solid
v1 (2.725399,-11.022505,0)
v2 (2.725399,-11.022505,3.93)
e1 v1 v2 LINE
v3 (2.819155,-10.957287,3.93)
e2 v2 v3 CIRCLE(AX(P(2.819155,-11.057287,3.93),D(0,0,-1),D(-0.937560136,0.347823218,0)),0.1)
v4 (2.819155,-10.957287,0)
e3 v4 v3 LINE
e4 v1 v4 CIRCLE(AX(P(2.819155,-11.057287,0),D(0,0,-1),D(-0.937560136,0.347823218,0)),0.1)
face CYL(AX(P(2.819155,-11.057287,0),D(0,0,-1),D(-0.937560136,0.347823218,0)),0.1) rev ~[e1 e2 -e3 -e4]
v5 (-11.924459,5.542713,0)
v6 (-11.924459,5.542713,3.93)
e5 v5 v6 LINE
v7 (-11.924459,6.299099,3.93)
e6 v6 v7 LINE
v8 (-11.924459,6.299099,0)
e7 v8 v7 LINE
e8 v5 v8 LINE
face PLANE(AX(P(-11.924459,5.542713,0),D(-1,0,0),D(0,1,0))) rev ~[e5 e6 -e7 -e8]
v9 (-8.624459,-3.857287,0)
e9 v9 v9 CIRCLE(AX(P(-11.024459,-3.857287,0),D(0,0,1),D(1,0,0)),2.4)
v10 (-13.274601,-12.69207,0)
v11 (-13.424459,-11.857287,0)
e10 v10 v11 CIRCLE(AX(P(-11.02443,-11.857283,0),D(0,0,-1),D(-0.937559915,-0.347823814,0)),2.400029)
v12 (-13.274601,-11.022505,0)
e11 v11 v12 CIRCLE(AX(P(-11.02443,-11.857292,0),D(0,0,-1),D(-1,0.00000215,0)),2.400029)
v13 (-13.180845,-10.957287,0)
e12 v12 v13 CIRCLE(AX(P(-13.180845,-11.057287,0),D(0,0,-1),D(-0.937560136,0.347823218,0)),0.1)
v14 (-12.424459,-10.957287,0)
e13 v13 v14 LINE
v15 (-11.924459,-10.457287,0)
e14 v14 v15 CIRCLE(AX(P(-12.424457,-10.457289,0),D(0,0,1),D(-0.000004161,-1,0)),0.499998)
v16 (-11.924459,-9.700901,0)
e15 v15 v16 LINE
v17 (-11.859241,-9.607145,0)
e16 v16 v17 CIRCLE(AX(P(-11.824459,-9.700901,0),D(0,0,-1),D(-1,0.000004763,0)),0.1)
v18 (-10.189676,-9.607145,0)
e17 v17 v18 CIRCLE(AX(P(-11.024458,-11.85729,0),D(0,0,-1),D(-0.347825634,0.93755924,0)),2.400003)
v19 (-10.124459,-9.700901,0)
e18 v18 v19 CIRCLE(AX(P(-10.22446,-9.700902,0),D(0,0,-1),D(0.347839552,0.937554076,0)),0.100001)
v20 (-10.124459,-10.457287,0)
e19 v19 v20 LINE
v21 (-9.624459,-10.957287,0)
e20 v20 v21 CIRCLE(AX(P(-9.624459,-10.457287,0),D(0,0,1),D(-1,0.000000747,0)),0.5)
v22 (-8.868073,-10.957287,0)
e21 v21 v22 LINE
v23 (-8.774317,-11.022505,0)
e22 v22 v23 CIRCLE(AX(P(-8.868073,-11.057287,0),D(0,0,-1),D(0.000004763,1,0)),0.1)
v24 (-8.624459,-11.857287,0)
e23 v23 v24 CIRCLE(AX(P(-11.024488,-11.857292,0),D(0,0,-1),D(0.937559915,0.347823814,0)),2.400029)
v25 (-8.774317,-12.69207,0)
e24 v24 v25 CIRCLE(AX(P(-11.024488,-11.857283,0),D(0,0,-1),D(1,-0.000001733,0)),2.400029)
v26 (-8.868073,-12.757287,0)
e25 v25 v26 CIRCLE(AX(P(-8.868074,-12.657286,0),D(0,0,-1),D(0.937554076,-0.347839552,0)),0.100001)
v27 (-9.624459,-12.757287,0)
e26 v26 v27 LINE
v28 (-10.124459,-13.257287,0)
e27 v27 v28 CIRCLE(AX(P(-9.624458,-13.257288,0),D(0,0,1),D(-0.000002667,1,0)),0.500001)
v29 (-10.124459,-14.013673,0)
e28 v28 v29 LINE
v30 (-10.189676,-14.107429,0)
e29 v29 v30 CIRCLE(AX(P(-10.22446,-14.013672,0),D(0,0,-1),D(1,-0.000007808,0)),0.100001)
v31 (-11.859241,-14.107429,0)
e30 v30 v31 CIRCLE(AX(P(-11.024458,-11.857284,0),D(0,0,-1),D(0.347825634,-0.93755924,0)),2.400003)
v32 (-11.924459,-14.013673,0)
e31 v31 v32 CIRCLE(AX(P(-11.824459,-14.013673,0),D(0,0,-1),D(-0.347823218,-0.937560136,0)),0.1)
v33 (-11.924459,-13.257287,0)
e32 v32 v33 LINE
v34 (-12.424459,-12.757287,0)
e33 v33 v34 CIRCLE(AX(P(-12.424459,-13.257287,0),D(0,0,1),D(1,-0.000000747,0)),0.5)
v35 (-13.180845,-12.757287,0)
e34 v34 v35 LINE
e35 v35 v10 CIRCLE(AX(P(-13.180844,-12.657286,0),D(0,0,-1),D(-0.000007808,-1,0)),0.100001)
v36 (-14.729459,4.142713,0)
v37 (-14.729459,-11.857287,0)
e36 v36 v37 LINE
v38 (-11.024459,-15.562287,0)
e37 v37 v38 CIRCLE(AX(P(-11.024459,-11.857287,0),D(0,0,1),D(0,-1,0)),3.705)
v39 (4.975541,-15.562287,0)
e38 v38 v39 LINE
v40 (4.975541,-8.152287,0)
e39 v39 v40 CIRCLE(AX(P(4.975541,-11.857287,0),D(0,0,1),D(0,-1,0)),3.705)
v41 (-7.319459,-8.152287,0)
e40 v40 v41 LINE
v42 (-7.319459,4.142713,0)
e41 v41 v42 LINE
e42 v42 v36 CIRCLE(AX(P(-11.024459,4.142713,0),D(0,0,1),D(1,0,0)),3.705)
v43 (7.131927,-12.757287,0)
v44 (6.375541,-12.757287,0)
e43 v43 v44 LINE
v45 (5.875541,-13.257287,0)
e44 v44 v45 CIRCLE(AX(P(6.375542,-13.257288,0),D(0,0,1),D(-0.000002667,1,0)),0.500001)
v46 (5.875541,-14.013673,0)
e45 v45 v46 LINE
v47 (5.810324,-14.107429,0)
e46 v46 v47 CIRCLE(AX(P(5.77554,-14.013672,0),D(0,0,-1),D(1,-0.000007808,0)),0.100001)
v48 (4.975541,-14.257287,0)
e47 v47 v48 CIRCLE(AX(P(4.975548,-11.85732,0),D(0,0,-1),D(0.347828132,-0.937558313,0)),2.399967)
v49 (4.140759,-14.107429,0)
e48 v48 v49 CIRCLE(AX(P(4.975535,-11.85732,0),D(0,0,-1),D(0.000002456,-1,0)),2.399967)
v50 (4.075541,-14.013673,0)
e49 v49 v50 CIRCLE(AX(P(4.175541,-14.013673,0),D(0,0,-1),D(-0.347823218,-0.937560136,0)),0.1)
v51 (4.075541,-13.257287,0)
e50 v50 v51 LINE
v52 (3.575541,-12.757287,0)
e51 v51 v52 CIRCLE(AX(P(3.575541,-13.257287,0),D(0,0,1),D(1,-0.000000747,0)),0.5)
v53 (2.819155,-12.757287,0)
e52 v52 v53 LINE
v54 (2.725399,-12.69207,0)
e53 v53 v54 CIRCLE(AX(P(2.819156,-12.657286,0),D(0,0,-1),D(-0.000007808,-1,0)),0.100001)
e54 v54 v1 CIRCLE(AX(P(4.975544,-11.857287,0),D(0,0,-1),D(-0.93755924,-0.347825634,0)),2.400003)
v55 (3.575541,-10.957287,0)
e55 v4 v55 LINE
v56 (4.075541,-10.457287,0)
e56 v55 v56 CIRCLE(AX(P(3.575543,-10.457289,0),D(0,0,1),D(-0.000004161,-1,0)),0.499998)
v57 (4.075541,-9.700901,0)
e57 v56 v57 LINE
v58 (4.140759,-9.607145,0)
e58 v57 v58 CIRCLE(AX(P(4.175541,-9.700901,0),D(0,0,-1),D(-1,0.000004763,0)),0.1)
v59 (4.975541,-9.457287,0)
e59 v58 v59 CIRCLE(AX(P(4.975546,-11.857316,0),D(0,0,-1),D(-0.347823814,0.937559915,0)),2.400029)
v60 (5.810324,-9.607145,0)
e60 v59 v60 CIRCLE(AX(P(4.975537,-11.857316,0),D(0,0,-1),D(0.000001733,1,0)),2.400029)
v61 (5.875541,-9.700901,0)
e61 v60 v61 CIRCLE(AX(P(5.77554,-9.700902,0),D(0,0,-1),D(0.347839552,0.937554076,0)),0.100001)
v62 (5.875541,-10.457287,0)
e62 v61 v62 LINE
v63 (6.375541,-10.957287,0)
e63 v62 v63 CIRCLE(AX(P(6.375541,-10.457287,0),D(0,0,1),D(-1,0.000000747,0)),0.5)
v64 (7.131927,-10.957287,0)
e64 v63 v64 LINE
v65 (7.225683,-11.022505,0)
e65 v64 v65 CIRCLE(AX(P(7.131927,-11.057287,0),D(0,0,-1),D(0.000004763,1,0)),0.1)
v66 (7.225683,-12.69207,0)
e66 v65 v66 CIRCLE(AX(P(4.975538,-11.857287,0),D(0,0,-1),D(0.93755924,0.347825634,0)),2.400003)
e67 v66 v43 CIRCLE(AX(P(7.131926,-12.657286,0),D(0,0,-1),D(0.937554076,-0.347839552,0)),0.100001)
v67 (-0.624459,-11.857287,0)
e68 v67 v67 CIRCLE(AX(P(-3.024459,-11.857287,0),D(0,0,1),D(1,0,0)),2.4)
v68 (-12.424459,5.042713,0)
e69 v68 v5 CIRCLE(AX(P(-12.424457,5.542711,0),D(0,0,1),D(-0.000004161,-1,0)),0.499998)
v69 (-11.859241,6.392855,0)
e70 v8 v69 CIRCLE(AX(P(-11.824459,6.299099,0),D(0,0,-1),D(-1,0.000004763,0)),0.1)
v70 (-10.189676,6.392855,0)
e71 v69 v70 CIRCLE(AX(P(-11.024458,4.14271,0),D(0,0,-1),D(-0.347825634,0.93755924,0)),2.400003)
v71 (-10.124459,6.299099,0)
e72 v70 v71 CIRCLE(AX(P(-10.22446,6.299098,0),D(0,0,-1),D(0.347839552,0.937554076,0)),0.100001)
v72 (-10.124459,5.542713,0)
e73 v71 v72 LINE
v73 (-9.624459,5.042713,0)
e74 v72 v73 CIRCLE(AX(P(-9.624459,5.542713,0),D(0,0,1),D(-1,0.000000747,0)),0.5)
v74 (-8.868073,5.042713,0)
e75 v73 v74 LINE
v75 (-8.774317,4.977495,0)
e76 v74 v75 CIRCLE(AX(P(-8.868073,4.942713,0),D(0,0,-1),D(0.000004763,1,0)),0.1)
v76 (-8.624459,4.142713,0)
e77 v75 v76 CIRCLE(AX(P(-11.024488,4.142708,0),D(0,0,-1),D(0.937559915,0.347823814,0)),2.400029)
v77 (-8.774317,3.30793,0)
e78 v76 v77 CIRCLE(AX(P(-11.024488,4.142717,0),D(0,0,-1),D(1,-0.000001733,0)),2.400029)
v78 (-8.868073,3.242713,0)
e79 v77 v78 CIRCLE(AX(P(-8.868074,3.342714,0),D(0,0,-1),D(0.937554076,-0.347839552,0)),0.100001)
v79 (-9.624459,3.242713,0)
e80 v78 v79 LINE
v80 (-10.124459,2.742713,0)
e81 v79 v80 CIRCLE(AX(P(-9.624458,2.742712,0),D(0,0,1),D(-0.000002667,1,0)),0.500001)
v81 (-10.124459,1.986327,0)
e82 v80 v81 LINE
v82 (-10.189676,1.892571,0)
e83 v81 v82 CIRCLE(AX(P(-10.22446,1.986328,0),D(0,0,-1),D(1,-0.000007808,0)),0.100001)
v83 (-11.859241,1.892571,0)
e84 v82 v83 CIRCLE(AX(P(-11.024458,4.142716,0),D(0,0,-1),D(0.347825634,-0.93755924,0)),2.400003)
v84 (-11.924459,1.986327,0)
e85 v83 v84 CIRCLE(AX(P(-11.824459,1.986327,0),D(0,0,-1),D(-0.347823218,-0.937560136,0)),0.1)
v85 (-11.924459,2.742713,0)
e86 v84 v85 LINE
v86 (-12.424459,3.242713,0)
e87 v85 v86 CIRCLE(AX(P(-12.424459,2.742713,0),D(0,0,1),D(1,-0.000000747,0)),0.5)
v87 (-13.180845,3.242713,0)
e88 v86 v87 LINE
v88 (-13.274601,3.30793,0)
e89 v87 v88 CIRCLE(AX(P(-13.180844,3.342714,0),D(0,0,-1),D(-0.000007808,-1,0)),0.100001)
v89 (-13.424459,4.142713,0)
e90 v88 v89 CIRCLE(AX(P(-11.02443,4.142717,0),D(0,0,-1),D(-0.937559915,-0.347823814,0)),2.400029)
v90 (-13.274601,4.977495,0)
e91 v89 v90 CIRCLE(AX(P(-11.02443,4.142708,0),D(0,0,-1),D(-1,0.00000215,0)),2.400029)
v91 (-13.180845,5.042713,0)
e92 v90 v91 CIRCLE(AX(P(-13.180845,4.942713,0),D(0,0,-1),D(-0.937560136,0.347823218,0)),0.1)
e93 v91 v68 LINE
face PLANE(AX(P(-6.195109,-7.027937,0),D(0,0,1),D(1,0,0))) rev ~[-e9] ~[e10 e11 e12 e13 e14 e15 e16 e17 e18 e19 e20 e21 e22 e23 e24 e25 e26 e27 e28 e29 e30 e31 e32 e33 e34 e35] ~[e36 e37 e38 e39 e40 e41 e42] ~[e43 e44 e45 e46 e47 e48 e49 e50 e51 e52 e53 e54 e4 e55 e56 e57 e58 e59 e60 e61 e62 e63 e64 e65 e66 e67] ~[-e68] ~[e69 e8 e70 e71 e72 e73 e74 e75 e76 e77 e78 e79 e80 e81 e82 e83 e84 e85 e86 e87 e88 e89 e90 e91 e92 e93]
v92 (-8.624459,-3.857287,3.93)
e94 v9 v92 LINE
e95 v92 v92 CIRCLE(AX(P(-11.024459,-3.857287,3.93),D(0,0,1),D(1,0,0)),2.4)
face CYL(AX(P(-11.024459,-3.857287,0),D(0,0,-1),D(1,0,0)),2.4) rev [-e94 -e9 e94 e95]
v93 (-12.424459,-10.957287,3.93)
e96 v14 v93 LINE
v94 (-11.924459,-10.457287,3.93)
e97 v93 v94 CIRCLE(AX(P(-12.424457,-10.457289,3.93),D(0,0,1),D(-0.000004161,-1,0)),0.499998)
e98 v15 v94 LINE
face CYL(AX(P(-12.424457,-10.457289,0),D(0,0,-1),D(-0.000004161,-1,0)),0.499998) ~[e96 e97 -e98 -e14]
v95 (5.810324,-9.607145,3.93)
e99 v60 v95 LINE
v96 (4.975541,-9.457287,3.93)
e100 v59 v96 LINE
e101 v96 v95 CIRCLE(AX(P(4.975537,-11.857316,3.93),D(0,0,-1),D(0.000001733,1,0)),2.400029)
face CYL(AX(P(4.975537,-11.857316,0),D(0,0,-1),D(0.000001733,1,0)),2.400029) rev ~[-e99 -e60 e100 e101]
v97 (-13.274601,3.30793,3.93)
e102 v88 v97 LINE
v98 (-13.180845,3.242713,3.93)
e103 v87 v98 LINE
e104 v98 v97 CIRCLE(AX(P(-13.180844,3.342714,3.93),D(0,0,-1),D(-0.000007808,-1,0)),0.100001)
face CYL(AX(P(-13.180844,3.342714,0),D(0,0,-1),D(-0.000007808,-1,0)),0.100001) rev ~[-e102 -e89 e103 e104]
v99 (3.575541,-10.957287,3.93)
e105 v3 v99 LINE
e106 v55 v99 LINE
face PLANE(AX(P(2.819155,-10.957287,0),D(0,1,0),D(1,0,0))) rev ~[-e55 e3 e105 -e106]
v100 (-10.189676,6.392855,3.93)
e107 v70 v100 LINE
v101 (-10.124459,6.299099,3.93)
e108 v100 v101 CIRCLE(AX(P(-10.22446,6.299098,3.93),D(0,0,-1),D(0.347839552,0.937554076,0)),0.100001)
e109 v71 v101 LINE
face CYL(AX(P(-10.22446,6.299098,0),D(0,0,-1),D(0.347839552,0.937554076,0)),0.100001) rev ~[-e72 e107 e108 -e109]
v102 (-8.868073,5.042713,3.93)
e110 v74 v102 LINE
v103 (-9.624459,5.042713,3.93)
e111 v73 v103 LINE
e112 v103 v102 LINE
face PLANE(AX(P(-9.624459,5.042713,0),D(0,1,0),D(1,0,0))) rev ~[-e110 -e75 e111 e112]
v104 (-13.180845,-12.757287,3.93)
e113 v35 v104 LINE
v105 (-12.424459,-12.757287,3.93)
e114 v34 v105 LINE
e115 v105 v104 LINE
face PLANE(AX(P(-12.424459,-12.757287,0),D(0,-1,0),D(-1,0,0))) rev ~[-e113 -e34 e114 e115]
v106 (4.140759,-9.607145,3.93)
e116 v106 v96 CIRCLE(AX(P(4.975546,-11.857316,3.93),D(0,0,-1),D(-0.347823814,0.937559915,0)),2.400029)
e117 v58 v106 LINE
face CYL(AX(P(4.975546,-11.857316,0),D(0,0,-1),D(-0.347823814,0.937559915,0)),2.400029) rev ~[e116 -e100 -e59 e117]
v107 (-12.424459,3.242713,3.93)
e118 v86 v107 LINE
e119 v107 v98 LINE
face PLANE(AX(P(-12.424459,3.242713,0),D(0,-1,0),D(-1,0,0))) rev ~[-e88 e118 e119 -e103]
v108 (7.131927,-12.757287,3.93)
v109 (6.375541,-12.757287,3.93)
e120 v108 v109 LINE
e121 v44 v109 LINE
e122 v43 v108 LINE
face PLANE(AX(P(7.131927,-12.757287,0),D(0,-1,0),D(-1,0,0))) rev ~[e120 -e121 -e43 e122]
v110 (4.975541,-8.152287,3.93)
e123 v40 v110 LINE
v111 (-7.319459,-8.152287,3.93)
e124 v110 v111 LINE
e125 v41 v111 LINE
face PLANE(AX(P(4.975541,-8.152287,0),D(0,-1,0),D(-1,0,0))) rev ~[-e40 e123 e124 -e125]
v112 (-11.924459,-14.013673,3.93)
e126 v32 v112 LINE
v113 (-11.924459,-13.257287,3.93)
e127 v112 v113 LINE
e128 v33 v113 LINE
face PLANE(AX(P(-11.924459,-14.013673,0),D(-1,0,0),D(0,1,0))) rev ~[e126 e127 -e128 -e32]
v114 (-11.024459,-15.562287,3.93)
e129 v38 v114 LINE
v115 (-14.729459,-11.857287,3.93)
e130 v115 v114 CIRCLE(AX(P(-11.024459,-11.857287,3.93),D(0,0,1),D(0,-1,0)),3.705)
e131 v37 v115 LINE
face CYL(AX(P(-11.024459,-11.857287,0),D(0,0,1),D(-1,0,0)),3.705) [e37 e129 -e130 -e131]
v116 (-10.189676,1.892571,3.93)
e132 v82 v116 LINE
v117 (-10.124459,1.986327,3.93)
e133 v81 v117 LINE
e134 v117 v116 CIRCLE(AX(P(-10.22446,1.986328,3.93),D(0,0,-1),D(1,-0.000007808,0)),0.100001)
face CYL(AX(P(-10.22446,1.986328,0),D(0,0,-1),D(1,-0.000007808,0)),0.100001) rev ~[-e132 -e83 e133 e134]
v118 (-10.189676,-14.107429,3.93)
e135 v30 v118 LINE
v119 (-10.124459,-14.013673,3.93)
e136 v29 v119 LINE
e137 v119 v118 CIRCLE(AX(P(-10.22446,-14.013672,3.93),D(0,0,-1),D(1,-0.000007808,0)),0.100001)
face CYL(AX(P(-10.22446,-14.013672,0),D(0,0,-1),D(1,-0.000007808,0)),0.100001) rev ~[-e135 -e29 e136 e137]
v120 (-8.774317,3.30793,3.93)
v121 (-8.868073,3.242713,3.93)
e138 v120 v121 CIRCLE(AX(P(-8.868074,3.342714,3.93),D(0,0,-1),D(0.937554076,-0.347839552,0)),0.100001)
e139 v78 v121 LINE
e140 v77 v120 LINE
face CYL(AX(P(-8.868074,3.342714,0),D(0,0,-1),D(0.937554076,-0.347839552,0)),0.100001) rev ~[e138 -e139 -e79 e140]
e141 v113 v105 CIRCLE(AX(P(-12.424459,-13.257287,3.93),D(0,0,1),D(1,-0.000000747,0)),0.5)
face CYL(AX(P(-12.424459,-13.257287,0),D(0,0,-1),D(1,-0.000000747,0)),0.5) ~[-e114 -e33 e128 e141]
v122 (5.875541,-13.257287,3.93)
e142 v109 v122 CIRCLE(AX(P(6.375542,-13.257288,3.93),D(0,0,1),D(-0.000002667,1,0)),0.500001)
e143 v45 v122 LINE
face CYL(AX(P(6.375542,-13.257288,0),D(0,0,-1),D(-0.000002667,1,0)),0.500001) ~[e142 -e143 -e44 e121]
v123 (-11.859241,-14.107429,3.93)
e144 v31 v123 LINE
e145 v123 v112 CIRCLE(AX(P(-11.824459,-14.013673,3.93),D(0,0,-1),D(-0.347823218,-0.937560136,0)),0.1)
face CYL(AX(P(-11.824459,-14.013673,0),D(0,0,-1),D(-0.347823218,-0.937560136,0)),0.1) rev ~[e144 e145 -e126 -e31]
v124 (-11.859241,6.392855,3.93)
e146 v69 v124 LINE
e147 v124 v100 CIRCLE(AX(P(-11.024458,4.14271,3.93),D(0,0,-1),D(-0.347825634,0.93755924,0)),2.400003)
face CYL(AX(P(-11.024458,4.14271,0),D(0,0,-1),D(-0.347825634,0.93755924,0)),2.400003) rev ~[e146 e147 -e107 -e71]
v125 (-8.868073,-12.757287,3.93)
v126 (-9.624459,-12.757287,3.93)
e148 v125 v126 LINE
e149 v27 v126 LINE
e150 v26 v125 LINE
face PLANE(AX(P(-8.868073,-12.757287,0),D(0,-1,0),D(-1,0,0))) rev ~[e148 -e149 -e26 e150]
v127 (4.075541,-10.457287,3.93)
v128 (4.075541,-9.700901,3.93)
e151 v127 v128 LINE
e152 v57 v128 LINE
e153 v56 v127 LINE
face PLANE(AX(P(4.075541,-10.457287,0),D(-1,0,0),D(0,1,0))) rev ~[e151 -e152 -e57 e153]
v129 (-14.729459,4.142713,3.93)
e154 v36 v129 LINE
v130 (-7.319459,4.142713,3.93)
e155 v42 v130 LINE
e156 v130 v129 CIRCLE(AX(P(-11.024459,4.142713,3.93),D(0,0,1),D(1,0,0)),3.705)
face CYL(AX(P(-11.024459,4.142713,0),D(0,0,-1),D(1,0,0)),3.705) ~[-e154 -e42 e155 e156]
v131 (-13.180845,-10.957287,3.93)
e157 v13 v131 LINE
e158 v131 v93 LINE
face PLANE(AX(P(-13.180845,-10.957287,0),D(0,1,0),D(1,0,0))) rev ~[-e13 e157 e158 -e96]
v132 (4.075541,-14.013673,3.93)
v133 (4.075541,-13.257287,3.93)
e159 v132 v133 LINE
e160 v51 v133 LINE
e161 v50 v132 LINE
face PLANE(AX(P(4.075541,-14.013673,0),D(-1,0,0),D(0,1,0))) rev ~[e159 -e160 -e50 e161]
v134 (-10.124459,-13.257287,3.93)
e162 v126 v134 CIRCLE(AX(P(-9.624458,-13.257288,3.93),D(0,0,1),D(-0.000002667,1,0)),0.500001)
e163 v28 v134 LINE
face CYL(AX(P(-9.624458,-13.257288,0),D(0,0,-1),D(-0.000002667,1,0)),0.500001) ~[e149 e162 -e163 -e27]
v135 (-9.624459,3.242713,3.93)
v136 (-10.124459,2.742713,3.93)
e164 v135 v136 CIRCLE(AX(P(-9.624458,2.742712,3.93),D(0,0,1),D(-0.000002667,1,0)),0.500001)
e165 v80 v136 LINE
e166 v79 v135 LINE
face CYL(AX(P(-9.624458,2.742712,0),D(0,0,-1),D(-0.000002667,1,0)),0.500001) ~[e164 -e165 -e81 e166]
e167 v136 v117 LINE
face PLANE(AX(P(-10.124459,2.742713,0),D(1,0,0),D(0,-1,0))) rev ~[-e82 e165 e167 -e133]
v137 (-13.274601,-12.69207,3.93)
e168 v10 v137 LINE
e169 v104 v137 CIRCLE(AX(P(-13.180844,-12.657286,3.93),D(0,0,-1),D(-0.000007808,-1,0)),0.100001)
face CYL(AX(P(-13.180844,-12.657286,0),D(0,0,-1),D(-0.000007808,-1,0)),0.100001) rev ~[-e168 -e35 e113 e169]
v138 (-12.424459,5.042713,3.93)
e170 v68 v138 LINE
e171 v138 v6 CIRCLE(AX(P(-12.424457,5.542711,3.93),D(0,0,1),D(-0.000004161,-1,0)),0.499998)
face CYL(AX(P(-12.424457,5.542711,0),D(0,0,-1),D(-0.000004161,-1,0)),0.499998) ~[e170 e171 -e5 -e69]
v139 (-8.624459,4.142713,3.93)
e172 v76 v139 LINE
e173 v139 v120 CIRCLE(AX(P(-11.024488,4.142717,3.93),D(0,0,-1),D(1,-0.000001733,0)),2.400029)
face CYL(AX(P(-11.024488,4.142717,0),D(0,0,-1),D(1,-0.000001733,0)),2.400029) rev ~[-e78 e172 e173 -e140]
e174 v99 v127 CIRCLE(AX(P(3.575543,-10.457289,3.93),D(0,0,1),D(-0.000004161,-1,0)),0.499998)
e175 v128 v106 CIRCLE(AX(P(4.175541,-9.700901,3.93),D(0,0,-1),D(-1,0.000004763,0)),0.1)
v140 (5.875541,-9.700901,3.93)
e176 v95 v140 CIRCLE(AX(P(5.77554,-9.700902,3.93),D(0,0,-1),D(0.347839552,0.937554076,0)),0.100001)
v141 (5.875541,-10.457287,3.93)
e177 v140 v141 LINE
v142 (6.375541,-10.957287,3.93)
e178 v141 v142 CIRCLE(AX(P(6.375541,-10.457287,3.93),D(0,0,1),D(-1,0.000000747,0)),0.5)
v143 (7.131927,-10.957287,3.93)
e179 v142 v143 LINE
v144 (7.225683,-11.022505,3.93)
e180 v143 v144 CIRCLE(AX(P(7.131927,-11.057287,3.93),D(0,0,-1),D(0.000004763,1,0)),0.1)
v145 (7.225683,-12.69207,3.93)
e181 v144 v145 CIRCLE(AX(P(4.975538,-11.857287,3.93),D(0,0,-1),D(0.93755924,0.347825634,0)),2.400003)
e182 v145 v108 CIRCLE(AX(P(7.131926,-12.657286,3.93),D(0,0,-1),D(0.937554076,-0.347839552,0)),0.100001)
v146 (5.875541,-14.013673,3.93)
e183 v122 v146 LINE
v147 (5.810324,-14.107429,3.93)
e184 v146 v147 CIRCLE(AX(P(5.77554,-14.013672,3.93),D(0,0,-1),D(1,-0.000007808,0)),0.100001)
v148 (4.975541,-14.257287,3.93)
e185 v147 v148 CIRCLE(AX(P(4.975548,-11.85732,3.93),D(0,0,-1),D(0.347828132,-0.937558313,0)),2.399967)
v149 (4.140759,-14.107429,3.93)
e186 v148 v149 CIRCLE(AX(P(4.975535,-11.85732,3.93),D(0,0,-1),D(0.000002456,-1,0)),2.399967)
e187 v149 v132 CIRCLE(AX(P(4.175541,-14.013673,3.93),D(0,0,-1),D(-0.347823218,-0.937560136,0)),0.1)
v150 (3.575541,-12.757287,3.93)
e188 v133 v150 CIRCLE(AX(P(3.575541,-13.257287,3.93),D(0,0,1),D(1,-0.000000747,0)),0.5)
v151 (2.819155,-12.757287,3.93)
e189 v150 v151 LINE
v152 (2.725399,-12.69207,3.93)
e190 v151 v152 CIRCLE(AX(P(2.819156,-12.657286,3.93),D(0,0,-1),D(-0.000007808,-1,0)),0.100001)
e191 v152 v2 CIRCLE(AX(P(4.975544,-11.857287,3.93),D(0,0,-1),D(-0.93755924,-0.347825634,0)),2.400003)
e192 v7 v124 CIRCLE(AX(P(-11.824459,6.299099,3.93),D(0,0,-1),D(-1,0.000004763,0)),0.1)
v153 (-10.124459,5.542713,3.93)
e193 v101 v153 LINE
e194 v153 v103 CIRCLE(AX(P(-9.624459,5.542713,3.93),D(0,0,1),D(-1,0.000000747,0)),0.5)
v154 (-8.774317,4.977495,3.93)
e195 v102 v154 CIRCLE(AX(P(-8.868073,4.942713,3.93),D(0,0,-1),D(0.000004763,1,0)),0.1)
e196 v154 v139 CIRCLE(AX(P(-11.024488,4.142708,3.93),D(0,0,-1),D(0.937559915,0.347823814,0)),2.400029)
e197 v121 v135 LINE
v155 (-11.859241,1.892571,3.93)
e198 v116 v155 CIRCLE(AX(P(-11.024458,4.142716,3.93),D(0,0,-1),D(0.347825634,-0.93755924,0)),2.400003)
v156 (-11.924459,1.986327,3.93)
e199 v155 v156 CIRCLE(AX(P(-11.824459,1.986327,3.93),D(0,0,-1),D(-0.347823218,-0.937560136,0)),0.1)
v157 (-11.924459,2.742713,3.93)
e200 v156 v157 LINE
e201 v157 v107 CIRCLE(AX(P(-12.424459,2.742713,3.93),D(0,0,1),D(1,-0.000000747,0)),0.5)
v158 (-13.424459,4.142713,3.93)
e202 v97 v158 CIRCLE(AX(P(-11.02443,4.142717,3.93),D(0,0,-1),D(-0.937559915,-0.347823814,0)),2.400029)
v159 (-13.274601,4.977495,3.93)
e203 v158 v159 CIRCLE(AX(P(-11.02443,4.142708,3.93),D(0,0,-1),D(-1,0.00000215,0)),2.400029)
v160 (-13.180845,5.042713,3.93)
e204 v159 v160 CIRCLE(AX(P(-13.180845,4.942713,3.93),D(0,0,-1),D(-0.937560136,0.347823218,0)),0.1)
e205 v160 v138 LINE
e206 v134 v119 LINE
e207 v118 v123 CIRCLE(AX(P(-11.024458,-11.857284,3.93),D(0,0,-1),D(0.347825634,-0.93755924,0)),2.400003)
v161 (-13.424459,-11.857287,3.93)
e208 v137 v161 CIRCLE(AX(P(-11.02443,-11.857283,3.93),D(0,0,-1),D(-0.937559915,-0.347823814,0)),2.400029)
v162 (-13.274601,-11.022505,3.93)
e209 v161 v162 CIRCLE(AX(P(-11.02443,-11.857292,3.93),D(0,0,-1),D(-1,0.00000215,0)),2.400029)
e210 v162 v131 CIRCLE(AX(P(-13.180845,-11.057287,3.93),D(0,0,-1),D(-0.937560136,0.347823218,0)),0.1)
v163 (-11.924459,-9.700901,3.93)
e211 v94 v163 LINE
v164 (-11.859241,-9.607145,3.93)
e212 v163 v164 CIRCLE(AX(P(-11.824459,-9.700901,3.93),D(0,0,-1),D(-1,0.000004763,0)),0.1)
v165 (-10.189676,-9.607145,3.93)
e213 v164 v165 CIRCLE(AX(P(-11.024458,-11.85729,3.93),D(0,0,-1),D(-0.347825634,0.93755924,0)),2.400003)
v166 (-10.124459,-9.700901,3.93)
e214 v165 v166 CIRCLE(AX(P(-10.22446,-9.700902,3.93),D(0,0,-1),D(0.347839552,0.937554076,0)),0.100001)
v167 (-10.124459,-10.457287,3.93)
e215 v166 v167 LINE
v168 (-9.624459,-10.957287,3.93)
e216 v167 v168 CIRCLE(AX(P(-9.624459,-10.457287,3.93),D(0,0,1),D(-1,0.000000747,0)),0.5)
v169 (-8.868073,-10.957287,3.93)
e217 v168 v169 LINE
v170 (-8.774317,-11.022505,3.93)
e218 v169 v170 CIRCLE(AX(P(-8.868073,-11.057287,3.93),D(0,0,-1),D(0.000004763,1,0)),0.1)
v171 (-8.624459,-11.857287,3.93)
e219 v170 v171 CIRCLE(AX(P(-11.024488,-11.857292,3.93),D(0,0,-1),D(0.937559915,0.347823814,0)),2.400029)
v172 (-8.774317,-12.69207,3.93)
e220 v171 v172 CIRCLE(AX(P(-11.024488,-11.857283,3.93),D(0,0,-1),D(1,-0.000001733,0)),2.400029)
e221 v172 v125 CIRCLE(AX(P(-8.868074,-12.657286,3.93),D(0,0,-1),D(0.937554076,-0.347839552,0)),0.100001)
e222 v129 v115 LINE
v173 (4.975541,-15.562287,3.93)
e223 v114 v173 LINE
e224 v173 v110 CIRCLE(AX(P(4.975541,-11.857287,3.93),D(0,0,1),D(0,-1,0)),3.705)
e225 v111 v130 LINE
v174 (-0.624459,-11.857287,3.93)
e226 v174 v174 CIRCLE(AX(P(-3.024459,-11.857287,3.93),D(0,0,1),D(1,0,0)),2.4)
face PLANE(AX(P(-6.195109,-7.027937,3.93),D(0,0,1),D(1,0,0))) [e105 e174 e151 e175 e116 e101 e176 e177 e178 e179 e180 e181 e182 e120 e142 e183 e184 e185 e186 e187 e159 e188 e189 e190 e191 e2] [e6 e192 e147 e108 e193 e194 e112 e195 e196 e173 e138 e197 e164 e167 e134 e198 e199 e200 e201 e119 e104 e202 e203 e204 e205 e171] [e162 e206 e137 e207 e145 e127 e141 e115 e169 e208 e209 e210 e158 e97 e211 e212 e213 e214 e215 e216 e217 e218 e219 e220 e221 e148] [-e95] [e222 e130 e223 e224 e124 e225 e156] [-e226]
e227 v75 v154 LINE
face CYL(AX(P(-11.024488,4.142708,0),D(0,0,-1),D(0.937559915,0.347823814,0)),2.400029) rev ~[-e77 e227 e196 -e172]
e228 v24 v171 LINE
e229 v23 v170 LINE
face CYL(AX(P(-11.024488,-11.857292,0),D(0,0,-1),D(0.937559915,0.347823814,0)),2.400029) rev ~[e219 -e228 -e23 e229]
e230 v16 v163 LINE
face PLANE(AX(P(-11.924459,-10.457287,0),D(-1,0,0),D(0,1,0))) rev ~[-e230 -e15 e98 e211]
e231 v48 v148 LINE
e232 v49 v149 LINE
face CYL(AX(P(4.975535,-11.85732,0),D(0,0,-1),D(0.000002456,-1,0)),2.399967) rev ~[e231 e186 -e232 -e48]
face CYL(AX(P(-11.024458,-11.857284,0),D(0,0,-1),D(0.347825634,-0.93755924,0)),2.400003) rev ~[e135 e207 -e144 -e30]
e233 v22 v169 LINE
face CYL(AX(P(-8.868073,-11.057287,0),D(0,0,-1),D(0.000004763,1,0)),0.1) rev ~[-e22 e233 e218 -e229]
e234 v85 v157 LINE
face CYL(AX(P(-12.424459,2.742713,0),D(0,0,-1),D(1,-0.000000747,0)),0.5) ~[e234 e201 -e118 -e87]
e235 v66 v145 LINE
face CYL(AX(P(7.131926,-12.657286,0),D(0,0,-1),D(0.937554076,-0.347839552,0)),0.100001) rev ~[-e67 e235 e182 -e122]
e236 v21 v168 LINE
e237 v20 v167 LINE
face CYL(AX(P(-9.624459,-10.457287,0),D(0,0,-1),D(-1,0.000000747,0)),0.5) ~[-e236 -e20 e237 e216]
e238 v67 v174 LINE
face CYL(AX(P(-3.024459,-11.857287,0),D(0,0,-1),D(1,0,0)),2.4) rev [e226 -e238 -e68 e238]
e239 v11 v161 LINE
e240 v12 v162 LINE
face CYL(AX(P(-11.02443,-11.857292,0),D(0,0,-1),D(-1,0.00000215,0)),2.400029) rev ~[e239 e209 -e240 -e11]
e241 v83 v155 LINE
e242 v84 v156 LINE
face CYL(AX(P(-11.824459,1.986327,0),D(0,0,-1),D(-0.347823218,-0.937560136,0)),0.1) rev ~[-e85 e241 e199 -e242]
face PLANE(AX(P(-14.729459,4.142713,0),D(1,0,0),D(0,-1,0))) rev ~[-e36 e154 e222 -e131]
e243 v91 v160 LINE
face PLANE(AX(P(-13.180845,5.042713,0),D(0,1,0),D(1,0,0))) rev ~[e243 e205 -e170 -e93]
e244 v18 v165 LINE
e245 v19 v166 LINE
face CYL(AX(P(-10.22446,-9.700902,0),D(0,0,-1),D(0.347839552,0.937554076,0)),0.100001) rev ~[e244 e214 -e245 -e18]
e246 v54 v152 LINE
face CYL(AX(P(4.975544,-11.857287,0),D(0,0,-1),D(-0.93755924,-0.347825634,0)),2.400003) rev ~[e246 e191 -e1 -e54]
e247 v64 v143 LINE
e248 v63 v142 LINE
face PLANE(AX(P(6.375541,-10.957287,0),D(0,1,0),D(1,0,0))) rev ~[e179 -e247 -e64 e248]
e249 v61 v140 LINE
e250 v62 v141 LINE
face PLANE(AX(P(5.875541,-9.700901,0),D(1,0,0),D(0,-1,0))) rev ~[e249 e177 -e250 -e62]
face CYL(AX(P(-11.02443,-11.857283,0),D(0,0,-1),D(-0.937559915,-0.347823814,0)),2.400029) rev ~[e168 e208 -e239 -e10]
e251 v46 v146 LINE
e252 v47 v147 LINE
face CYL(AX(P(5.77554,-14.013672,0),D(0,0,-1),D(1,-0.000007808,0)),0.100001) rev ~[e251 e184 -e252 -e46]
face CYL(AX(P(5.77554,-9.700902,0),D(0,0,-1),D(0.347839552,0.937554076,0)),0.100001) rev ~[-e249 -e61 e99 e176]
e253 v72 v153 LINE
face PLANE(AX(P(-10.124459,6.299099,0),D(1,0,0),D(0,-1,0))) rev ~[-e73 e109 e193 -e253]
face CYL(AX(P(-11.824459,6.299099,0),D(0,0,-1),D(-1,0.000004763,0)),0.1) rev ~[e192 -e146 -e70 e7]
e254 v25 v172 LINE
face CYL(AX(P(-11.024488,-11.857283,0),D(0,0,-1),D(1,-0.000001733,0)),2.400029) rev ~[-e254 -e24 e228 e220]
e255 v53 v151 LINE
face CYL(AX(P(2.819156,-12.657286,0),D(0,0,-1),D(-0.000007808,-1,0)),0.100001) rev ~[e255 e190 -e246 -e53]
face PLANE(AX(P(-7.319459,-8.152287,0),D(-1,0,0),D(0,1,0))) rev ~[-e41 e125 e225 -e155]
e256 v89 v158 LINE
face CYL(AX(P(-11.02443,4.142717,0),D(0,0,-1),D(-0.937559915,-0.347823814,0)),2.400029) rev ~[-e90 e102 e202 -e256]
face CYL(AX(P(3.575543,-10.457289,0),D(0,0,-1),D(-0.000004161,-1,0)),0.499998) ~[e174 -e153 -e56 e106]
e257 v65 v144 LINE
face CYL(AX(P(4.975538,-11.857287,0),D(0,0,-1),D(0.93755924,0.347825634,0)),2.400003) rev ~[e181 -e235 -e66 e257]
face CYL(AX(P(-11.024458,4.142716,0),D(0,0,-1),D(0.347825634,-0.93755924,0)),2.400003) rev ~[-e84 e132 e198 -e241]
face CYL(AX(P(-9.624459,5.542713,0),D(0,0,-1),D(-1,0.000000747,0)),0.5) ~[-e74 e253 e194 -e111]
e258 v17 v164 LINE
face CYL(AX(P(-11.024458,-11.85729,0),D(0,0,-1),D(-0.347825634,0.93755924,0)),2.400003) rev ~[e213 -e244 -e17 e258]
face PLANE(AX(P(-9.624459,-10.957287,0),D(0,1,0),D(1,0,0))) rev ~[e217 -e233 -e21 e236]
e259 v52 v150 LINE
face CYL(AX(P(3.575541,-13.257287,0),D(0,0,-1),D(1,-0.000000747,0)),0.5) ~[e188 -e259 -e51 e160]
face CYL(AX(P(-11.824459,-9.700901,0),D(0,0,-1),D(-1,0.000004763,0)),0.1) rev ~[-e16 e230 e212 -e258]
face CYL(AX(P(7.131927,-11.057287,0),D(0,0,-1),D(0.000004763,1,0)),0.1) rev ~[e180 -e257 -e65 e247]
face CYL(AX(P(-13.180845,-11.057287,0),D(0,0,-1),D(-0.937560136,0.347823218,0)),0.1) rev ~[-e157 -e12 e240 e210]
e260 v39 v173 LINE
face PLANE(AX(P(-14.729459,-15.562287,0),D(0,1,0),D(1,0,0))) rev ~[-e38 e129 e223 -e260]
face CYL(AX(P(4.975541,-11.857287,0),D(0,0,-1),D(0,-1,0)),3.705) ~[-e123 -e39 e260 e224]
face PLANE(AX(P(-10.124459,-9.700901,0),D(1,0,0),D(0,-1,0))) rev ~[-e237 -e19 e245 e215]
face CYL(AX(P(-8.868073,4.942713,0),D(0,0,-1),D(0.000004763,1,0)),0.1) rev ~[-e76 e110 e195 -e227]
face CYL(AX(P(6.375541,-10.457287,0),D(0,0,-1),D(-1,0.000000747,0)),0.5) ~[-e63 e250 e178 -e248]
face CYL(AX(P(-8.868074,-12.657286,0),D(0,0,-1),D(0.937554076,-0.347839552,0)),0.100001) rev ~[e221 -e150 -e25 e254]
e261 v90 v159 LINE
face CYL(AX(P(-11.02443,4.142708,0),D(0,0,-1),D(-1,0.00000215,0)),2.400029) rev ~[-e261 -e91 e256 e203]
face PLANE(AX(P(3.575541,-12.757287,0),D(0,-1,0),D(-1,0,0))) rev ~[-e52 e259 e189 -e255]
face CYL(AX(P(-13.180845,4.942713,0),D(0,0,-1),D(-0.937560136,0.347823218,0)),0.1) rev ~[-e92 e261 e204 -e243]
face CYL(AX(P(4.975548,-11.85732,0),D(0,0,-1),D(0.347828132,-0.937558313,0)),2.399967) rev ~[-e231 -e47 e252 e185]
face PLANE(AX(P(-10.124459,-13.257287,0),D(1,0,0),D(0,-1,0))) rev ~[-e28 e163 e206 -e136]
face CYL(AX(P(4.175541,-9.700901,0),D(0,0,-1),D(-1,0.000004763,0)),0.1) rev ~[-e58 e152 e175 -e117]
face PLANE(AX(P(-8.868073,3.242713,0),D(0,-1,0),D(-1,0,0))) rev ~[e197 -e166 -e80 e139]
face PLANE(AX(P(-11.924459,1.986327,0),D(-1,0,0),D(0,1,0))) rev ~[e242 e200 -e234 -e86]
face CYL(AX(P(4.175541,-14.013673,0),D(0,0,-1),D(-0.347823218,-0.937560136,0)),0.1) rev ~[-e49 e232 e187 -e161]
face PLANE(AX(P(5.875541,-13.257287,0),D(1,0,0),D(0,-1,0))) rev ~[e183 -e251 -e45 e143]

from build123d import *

# Parameters (mm, degrees)
F0_R     = 2.4
F1_DEPTH = 3.93
F2_R     = 3.705


with BuildPart() as f1:
    # F0 (on Top) → F1 (new body)
    with BuildSketch(Plane.XY):
        with BuildLine():
            Line((-7.319459, -8.152287), (-7.319459, 4.142713))
            ThreePointArc((-7.319459, 4.142713), (-11.024459, 7.847713), (-14.729459, 4.142713))
            Line((-14.729459, 4.142713), (-14.729459, -15.562287))
            Line((-14.729459, -15.562287), (4.975541, -15.562287))
            ThreePointArc((4.975541, -15.562287), (8.680541, -11.857287), (4.975541, -8.152287))
            Line((4.975541, -8.152287), (-7.319459, -8.152287))
        make_face()
        with BuildLine():
            ThreePointArc((-8.624459, -11.857287), (-8.662221, -12.281351), (-8.774317, -12.69207))
            ThreePointArc((-8.774317, -12.69207), (-8.810969, -12.739379), (-8.868073, -12.757287))
            Line((-8.868073, -12.757287), (-9.624459, -12.757287))
            ThreePointArc((-9.624459, -12.757287), (-9.978012, -12.903734), (-10.124459, -13.257287))
            Line((-10.124459, -13.257287), (-10.124459, -14.013673))
            ThreePointArc((-10.124459, -14.013673), (-10.142367, -14.070777), (-10.189676, -14.107429))
            ThreePointArc((-10.189676, -14.107429), (-11.024459, -14.257287), (-11.859241, -14.107429))
            ThreePointArc((-11.859241, -14.107429), (-11.906551, -14.070777), (-11.924459, -14.013673))
            Line((-11.924459, -14.013673), (-11.924459, -13.257287))
            ThreePointArc((-11.924459, -13.257287), (-12.070905, -12.903734), (-12.424459, -12.757287))
            Line((-12.424459, -12.757287), (-13.180845, -12.757287))
            ThreePointArc((-13.180845, -12.757287), (-13.237949, -12.739379), (-13.274601, -12.69207))
            ThreePointArc((-13.274601, -12.69207), (-13.386697, -12.281351), (-13.424459, -11.857287))
            ThreePointArc((-13.424459, -11.857287), (-13.386697, -11.433224), (-13.274601, -11.022505))
            ThreePointArc((-13.274601, -11.022505), (-13.237949, -10.975195), (-13.180845, -10.957287))
            Line((-13.180845, -10.957287), (-12.424459, -10.957287))
            ThreePointArc((-12.424459, -10.957287), (-12.070905, -10.810841), (-11.924459, -10.457287))
            Line((-11.924459, -10.457287), (-11.924459, -9.700901))
            ThreePointArc((-11.924459, -9.700901), (-11.906551, -9.643797), (-11.859241, -9.607145))
            ThreePointArc((-11.859241, -9.607145), (-11.024459, -9.457287), (-10.189676, -9.607145))
            ThreePointArc((-10.189676, -9.607145), (-10.142367, -9.643797), (-10.124459, -9.700901))
            Line((-10.124459, -9.700901), (-10.124459, -10.457287))
            ThreePointArc((-10.124459, -10.457287), (-9.978012, -10.810841), (-9.624459, -10.957287))
            Line((-9.624459, -10.957287), (-8.868073, -10.957287))
            ThreePointArc((-8.868073, -10.957287), (-8.810969, -10.975195), (-8.774317, -11.022505))
            ThreePointArc((-8.774317, -11.022505), (-8.662221, -11.433224), (-8.624459, -11.857287))
        make_face(mode=Mode.SUBTRACT)
        with Locations((-3.024459, -11.857287)):
            Circle(F0_R, mode=Mode.SUBTRACT)
        with BuildLine():
            ThreePointArc((5.810324, -14.107429), (5.399605, -14.219526), (4.975541, -14.257287))
            ThreePointArc((4.975541, -14.257287), (4.551478, -14.219526), (4.140759, -14.107429))
            ThreePointArc((4.140759, -14.107429), (4.093449, -14.070777), (4.075541, -14.013673))
            Line((4.075541, -14.013673), (4.075541, -13.257287))
            ThreePointArc((4.075541, -13.257287), (3.929095, -12.903734), (3.575541, -12.757287))
            Line((3.575541, -12.757287), (2.819155, -12.757287))
            ThreePointArc((2.819155, -12.757287), (2.762051, -12.739379), (2.725399, -12.69207))
            ThreePointArc((2.725399, -12.69207), (2.575541, -11.857287), (2.725399, -11.022505))
            ThreePointArc((2.725399, -11.022505), (2.762051, -10.975195), (2.819155, -10.957287))
            Line((2.819155, -10.957287), (3.575541, -10.957287))
            ThreePointArc((3.575541, -10.957287), (3.929095, -10.810841), (4.075541, -10.457287))
            Line((4.075541, -10.457287), (4.075541, -9.700901))
            ThreePointArc((4.075541, -9.700901), (4.093449, -9.643797), (4.140759, -9.607145))
            ThreePointArc((4.140759, -9.607145), (4.551478, -9.495049), (4.975541, -9.457287))
            ThreePointArc((4.975541, -9.457287), (5.399605, -9.495049), (5.810324, -9.607145))
            ThreePointArc((5.810324, -9.607145), (5.857633, -9.643797), (5.875541, -9.700901))
            Line((5.875541, -9.700901), (5.875541, -10.457287))
            ThreePointArc((5.875541, -10.457287), (6.021988, -10.810841), (6.375541, -10.957287))
            Line((6.375541, -10.957287), (7.131927, -10.957287))
            ThreePointArc((7.131927, -10.957287), (7.189031, -10.975195), (7.225683, -11.022505))
            ThreePointArc((7.225683, -11.022505), (7.375541, -11.857287), (7.225683, -12.69207))
            ThreePointArc((7.225683, -12.69207), (7.189031, -12.739379), (7.131927, -12.757287))
            Line((7.131927, -12.757287), (6.375541, -12.757287))
            ThreePointArc((6.375541, -12.757287), (6.021988, -12.903734), (5.875541, -13.257287))
            Line((5.875541, -13.257287), (5.875541, -14.013673))
            ThreePointArc((5.875541, -14.013673), (5.857633, -14.070777), (5.810324, -14.107429))
        make_face(mode=Mode.SUBTRACT)
        with Locations((-11.024459, -3.857287)):
            Circle(F0_R, mode=Mode.SUBTRACT)
        with BuildLine():
            ThreePointArc((-12.424459, 5.042713), (-12.070905, 5.189159), (-11.924459, 5.542713))
            Line((-11.924459, 5.542713), (-11.924459, 6.299099))
            ThreePointArc((-11.924459, 6.299099), (-11.906551, 6.356203), (-11.859241, 6.392855))
            ThreePointArc((-11.859241, 6.392855), (-11.024459, 6.542713), (-10.189676, 6.392855))
            ThreePointArc((-10.189676, 6.392855), (-10.142367, 6.356203), (-10.124459, 6.299099))
            Line((-10.124459, 6.299099), (-10.124459, 5.542713))
            ThreePointArc((-10.124459, 5.542713), (-9.978012, 5.189159), (-9.624459, 5.042713))
            Line((-9.624459, 5.042713), (-8.868073, 5.042713))
            ThreePointArc((-8.868073, 5.042713), (-8.810969, 5.024805), (-8.774317, 4.977495))
            ThreePointArc((-8.774317, 4.977495), (-8.662221, 4.566776), (-8.624459, 4.142713))
            ThreePointArc((-8.624459, 4.142713), (-8.662221, 3.718649), (-8.774317, 3.30793))
            ThreePointArc((-8.774317, 3.30793), (-8.810969, 3.260621), (-8.868073, 3.242713))
            Line((-8.868073, 3.242713), (-9.624459, 3.242713))
            ThreePointArc((-9.624459, 3.242713), (-9.978012, 3.096266), (-10.124459, 2.742713))
            Line((-10.124459, 2.742713), (-10.124459, 1.986327))
            ThreePointArc((-10.124459, 1.986327), (-10.142367, 1.929223), (-10.189676, 1.892571))
            ThreePointArc((-10.189676, 1.892571), (-11.024459, 1.742713), (-11.859241, 1.892571))
            ThreePointArc((-11.859241, 1.892571), (-11.906551, 1.929223), (-11.924459, 1.986327))
            Line((-11.924459, 1.986327), (-11.924459, 2.742713))
            ThreePointArc((-11.924459, 2.742713), (-12.070905, 3.096266), (-12.424459, 3.242713))
            Line((-12.424459, 3.242713), (-13.180845, 3.242713))
            ThreePointArc((-13.180845, 3.242713), (-13.237949, 3.260621), (-13.274601, 3.30793))
            ThreePointArc((-13.274601, 3.30793), (-13.386697, 3.718649), (-13.424459, 4.142713))
            ThreePointArc((-13.424459, 4.142713), (-13.386697, 4.566776), (-13.274601, 4.977495))
            ThreePointArc((-13.274601, 4.977495), (-13.237949, 5.024805), (-13.180845, 5.042713))
            Line((-13.180845, 5.042713), (-12.424459, 5.042713))
        make_face(mode=Mode.SUBTRACT)
    extrude(amount=F1_DEPTH)

    # F2
    f2_edges = [f1.edges().sort_by_distance(p)[0] for p in [
        (-14.729459, -15.562287, 1.965),
    ]]
    fillet(f2_edges, radius=F2_R)


solid = f1.part
